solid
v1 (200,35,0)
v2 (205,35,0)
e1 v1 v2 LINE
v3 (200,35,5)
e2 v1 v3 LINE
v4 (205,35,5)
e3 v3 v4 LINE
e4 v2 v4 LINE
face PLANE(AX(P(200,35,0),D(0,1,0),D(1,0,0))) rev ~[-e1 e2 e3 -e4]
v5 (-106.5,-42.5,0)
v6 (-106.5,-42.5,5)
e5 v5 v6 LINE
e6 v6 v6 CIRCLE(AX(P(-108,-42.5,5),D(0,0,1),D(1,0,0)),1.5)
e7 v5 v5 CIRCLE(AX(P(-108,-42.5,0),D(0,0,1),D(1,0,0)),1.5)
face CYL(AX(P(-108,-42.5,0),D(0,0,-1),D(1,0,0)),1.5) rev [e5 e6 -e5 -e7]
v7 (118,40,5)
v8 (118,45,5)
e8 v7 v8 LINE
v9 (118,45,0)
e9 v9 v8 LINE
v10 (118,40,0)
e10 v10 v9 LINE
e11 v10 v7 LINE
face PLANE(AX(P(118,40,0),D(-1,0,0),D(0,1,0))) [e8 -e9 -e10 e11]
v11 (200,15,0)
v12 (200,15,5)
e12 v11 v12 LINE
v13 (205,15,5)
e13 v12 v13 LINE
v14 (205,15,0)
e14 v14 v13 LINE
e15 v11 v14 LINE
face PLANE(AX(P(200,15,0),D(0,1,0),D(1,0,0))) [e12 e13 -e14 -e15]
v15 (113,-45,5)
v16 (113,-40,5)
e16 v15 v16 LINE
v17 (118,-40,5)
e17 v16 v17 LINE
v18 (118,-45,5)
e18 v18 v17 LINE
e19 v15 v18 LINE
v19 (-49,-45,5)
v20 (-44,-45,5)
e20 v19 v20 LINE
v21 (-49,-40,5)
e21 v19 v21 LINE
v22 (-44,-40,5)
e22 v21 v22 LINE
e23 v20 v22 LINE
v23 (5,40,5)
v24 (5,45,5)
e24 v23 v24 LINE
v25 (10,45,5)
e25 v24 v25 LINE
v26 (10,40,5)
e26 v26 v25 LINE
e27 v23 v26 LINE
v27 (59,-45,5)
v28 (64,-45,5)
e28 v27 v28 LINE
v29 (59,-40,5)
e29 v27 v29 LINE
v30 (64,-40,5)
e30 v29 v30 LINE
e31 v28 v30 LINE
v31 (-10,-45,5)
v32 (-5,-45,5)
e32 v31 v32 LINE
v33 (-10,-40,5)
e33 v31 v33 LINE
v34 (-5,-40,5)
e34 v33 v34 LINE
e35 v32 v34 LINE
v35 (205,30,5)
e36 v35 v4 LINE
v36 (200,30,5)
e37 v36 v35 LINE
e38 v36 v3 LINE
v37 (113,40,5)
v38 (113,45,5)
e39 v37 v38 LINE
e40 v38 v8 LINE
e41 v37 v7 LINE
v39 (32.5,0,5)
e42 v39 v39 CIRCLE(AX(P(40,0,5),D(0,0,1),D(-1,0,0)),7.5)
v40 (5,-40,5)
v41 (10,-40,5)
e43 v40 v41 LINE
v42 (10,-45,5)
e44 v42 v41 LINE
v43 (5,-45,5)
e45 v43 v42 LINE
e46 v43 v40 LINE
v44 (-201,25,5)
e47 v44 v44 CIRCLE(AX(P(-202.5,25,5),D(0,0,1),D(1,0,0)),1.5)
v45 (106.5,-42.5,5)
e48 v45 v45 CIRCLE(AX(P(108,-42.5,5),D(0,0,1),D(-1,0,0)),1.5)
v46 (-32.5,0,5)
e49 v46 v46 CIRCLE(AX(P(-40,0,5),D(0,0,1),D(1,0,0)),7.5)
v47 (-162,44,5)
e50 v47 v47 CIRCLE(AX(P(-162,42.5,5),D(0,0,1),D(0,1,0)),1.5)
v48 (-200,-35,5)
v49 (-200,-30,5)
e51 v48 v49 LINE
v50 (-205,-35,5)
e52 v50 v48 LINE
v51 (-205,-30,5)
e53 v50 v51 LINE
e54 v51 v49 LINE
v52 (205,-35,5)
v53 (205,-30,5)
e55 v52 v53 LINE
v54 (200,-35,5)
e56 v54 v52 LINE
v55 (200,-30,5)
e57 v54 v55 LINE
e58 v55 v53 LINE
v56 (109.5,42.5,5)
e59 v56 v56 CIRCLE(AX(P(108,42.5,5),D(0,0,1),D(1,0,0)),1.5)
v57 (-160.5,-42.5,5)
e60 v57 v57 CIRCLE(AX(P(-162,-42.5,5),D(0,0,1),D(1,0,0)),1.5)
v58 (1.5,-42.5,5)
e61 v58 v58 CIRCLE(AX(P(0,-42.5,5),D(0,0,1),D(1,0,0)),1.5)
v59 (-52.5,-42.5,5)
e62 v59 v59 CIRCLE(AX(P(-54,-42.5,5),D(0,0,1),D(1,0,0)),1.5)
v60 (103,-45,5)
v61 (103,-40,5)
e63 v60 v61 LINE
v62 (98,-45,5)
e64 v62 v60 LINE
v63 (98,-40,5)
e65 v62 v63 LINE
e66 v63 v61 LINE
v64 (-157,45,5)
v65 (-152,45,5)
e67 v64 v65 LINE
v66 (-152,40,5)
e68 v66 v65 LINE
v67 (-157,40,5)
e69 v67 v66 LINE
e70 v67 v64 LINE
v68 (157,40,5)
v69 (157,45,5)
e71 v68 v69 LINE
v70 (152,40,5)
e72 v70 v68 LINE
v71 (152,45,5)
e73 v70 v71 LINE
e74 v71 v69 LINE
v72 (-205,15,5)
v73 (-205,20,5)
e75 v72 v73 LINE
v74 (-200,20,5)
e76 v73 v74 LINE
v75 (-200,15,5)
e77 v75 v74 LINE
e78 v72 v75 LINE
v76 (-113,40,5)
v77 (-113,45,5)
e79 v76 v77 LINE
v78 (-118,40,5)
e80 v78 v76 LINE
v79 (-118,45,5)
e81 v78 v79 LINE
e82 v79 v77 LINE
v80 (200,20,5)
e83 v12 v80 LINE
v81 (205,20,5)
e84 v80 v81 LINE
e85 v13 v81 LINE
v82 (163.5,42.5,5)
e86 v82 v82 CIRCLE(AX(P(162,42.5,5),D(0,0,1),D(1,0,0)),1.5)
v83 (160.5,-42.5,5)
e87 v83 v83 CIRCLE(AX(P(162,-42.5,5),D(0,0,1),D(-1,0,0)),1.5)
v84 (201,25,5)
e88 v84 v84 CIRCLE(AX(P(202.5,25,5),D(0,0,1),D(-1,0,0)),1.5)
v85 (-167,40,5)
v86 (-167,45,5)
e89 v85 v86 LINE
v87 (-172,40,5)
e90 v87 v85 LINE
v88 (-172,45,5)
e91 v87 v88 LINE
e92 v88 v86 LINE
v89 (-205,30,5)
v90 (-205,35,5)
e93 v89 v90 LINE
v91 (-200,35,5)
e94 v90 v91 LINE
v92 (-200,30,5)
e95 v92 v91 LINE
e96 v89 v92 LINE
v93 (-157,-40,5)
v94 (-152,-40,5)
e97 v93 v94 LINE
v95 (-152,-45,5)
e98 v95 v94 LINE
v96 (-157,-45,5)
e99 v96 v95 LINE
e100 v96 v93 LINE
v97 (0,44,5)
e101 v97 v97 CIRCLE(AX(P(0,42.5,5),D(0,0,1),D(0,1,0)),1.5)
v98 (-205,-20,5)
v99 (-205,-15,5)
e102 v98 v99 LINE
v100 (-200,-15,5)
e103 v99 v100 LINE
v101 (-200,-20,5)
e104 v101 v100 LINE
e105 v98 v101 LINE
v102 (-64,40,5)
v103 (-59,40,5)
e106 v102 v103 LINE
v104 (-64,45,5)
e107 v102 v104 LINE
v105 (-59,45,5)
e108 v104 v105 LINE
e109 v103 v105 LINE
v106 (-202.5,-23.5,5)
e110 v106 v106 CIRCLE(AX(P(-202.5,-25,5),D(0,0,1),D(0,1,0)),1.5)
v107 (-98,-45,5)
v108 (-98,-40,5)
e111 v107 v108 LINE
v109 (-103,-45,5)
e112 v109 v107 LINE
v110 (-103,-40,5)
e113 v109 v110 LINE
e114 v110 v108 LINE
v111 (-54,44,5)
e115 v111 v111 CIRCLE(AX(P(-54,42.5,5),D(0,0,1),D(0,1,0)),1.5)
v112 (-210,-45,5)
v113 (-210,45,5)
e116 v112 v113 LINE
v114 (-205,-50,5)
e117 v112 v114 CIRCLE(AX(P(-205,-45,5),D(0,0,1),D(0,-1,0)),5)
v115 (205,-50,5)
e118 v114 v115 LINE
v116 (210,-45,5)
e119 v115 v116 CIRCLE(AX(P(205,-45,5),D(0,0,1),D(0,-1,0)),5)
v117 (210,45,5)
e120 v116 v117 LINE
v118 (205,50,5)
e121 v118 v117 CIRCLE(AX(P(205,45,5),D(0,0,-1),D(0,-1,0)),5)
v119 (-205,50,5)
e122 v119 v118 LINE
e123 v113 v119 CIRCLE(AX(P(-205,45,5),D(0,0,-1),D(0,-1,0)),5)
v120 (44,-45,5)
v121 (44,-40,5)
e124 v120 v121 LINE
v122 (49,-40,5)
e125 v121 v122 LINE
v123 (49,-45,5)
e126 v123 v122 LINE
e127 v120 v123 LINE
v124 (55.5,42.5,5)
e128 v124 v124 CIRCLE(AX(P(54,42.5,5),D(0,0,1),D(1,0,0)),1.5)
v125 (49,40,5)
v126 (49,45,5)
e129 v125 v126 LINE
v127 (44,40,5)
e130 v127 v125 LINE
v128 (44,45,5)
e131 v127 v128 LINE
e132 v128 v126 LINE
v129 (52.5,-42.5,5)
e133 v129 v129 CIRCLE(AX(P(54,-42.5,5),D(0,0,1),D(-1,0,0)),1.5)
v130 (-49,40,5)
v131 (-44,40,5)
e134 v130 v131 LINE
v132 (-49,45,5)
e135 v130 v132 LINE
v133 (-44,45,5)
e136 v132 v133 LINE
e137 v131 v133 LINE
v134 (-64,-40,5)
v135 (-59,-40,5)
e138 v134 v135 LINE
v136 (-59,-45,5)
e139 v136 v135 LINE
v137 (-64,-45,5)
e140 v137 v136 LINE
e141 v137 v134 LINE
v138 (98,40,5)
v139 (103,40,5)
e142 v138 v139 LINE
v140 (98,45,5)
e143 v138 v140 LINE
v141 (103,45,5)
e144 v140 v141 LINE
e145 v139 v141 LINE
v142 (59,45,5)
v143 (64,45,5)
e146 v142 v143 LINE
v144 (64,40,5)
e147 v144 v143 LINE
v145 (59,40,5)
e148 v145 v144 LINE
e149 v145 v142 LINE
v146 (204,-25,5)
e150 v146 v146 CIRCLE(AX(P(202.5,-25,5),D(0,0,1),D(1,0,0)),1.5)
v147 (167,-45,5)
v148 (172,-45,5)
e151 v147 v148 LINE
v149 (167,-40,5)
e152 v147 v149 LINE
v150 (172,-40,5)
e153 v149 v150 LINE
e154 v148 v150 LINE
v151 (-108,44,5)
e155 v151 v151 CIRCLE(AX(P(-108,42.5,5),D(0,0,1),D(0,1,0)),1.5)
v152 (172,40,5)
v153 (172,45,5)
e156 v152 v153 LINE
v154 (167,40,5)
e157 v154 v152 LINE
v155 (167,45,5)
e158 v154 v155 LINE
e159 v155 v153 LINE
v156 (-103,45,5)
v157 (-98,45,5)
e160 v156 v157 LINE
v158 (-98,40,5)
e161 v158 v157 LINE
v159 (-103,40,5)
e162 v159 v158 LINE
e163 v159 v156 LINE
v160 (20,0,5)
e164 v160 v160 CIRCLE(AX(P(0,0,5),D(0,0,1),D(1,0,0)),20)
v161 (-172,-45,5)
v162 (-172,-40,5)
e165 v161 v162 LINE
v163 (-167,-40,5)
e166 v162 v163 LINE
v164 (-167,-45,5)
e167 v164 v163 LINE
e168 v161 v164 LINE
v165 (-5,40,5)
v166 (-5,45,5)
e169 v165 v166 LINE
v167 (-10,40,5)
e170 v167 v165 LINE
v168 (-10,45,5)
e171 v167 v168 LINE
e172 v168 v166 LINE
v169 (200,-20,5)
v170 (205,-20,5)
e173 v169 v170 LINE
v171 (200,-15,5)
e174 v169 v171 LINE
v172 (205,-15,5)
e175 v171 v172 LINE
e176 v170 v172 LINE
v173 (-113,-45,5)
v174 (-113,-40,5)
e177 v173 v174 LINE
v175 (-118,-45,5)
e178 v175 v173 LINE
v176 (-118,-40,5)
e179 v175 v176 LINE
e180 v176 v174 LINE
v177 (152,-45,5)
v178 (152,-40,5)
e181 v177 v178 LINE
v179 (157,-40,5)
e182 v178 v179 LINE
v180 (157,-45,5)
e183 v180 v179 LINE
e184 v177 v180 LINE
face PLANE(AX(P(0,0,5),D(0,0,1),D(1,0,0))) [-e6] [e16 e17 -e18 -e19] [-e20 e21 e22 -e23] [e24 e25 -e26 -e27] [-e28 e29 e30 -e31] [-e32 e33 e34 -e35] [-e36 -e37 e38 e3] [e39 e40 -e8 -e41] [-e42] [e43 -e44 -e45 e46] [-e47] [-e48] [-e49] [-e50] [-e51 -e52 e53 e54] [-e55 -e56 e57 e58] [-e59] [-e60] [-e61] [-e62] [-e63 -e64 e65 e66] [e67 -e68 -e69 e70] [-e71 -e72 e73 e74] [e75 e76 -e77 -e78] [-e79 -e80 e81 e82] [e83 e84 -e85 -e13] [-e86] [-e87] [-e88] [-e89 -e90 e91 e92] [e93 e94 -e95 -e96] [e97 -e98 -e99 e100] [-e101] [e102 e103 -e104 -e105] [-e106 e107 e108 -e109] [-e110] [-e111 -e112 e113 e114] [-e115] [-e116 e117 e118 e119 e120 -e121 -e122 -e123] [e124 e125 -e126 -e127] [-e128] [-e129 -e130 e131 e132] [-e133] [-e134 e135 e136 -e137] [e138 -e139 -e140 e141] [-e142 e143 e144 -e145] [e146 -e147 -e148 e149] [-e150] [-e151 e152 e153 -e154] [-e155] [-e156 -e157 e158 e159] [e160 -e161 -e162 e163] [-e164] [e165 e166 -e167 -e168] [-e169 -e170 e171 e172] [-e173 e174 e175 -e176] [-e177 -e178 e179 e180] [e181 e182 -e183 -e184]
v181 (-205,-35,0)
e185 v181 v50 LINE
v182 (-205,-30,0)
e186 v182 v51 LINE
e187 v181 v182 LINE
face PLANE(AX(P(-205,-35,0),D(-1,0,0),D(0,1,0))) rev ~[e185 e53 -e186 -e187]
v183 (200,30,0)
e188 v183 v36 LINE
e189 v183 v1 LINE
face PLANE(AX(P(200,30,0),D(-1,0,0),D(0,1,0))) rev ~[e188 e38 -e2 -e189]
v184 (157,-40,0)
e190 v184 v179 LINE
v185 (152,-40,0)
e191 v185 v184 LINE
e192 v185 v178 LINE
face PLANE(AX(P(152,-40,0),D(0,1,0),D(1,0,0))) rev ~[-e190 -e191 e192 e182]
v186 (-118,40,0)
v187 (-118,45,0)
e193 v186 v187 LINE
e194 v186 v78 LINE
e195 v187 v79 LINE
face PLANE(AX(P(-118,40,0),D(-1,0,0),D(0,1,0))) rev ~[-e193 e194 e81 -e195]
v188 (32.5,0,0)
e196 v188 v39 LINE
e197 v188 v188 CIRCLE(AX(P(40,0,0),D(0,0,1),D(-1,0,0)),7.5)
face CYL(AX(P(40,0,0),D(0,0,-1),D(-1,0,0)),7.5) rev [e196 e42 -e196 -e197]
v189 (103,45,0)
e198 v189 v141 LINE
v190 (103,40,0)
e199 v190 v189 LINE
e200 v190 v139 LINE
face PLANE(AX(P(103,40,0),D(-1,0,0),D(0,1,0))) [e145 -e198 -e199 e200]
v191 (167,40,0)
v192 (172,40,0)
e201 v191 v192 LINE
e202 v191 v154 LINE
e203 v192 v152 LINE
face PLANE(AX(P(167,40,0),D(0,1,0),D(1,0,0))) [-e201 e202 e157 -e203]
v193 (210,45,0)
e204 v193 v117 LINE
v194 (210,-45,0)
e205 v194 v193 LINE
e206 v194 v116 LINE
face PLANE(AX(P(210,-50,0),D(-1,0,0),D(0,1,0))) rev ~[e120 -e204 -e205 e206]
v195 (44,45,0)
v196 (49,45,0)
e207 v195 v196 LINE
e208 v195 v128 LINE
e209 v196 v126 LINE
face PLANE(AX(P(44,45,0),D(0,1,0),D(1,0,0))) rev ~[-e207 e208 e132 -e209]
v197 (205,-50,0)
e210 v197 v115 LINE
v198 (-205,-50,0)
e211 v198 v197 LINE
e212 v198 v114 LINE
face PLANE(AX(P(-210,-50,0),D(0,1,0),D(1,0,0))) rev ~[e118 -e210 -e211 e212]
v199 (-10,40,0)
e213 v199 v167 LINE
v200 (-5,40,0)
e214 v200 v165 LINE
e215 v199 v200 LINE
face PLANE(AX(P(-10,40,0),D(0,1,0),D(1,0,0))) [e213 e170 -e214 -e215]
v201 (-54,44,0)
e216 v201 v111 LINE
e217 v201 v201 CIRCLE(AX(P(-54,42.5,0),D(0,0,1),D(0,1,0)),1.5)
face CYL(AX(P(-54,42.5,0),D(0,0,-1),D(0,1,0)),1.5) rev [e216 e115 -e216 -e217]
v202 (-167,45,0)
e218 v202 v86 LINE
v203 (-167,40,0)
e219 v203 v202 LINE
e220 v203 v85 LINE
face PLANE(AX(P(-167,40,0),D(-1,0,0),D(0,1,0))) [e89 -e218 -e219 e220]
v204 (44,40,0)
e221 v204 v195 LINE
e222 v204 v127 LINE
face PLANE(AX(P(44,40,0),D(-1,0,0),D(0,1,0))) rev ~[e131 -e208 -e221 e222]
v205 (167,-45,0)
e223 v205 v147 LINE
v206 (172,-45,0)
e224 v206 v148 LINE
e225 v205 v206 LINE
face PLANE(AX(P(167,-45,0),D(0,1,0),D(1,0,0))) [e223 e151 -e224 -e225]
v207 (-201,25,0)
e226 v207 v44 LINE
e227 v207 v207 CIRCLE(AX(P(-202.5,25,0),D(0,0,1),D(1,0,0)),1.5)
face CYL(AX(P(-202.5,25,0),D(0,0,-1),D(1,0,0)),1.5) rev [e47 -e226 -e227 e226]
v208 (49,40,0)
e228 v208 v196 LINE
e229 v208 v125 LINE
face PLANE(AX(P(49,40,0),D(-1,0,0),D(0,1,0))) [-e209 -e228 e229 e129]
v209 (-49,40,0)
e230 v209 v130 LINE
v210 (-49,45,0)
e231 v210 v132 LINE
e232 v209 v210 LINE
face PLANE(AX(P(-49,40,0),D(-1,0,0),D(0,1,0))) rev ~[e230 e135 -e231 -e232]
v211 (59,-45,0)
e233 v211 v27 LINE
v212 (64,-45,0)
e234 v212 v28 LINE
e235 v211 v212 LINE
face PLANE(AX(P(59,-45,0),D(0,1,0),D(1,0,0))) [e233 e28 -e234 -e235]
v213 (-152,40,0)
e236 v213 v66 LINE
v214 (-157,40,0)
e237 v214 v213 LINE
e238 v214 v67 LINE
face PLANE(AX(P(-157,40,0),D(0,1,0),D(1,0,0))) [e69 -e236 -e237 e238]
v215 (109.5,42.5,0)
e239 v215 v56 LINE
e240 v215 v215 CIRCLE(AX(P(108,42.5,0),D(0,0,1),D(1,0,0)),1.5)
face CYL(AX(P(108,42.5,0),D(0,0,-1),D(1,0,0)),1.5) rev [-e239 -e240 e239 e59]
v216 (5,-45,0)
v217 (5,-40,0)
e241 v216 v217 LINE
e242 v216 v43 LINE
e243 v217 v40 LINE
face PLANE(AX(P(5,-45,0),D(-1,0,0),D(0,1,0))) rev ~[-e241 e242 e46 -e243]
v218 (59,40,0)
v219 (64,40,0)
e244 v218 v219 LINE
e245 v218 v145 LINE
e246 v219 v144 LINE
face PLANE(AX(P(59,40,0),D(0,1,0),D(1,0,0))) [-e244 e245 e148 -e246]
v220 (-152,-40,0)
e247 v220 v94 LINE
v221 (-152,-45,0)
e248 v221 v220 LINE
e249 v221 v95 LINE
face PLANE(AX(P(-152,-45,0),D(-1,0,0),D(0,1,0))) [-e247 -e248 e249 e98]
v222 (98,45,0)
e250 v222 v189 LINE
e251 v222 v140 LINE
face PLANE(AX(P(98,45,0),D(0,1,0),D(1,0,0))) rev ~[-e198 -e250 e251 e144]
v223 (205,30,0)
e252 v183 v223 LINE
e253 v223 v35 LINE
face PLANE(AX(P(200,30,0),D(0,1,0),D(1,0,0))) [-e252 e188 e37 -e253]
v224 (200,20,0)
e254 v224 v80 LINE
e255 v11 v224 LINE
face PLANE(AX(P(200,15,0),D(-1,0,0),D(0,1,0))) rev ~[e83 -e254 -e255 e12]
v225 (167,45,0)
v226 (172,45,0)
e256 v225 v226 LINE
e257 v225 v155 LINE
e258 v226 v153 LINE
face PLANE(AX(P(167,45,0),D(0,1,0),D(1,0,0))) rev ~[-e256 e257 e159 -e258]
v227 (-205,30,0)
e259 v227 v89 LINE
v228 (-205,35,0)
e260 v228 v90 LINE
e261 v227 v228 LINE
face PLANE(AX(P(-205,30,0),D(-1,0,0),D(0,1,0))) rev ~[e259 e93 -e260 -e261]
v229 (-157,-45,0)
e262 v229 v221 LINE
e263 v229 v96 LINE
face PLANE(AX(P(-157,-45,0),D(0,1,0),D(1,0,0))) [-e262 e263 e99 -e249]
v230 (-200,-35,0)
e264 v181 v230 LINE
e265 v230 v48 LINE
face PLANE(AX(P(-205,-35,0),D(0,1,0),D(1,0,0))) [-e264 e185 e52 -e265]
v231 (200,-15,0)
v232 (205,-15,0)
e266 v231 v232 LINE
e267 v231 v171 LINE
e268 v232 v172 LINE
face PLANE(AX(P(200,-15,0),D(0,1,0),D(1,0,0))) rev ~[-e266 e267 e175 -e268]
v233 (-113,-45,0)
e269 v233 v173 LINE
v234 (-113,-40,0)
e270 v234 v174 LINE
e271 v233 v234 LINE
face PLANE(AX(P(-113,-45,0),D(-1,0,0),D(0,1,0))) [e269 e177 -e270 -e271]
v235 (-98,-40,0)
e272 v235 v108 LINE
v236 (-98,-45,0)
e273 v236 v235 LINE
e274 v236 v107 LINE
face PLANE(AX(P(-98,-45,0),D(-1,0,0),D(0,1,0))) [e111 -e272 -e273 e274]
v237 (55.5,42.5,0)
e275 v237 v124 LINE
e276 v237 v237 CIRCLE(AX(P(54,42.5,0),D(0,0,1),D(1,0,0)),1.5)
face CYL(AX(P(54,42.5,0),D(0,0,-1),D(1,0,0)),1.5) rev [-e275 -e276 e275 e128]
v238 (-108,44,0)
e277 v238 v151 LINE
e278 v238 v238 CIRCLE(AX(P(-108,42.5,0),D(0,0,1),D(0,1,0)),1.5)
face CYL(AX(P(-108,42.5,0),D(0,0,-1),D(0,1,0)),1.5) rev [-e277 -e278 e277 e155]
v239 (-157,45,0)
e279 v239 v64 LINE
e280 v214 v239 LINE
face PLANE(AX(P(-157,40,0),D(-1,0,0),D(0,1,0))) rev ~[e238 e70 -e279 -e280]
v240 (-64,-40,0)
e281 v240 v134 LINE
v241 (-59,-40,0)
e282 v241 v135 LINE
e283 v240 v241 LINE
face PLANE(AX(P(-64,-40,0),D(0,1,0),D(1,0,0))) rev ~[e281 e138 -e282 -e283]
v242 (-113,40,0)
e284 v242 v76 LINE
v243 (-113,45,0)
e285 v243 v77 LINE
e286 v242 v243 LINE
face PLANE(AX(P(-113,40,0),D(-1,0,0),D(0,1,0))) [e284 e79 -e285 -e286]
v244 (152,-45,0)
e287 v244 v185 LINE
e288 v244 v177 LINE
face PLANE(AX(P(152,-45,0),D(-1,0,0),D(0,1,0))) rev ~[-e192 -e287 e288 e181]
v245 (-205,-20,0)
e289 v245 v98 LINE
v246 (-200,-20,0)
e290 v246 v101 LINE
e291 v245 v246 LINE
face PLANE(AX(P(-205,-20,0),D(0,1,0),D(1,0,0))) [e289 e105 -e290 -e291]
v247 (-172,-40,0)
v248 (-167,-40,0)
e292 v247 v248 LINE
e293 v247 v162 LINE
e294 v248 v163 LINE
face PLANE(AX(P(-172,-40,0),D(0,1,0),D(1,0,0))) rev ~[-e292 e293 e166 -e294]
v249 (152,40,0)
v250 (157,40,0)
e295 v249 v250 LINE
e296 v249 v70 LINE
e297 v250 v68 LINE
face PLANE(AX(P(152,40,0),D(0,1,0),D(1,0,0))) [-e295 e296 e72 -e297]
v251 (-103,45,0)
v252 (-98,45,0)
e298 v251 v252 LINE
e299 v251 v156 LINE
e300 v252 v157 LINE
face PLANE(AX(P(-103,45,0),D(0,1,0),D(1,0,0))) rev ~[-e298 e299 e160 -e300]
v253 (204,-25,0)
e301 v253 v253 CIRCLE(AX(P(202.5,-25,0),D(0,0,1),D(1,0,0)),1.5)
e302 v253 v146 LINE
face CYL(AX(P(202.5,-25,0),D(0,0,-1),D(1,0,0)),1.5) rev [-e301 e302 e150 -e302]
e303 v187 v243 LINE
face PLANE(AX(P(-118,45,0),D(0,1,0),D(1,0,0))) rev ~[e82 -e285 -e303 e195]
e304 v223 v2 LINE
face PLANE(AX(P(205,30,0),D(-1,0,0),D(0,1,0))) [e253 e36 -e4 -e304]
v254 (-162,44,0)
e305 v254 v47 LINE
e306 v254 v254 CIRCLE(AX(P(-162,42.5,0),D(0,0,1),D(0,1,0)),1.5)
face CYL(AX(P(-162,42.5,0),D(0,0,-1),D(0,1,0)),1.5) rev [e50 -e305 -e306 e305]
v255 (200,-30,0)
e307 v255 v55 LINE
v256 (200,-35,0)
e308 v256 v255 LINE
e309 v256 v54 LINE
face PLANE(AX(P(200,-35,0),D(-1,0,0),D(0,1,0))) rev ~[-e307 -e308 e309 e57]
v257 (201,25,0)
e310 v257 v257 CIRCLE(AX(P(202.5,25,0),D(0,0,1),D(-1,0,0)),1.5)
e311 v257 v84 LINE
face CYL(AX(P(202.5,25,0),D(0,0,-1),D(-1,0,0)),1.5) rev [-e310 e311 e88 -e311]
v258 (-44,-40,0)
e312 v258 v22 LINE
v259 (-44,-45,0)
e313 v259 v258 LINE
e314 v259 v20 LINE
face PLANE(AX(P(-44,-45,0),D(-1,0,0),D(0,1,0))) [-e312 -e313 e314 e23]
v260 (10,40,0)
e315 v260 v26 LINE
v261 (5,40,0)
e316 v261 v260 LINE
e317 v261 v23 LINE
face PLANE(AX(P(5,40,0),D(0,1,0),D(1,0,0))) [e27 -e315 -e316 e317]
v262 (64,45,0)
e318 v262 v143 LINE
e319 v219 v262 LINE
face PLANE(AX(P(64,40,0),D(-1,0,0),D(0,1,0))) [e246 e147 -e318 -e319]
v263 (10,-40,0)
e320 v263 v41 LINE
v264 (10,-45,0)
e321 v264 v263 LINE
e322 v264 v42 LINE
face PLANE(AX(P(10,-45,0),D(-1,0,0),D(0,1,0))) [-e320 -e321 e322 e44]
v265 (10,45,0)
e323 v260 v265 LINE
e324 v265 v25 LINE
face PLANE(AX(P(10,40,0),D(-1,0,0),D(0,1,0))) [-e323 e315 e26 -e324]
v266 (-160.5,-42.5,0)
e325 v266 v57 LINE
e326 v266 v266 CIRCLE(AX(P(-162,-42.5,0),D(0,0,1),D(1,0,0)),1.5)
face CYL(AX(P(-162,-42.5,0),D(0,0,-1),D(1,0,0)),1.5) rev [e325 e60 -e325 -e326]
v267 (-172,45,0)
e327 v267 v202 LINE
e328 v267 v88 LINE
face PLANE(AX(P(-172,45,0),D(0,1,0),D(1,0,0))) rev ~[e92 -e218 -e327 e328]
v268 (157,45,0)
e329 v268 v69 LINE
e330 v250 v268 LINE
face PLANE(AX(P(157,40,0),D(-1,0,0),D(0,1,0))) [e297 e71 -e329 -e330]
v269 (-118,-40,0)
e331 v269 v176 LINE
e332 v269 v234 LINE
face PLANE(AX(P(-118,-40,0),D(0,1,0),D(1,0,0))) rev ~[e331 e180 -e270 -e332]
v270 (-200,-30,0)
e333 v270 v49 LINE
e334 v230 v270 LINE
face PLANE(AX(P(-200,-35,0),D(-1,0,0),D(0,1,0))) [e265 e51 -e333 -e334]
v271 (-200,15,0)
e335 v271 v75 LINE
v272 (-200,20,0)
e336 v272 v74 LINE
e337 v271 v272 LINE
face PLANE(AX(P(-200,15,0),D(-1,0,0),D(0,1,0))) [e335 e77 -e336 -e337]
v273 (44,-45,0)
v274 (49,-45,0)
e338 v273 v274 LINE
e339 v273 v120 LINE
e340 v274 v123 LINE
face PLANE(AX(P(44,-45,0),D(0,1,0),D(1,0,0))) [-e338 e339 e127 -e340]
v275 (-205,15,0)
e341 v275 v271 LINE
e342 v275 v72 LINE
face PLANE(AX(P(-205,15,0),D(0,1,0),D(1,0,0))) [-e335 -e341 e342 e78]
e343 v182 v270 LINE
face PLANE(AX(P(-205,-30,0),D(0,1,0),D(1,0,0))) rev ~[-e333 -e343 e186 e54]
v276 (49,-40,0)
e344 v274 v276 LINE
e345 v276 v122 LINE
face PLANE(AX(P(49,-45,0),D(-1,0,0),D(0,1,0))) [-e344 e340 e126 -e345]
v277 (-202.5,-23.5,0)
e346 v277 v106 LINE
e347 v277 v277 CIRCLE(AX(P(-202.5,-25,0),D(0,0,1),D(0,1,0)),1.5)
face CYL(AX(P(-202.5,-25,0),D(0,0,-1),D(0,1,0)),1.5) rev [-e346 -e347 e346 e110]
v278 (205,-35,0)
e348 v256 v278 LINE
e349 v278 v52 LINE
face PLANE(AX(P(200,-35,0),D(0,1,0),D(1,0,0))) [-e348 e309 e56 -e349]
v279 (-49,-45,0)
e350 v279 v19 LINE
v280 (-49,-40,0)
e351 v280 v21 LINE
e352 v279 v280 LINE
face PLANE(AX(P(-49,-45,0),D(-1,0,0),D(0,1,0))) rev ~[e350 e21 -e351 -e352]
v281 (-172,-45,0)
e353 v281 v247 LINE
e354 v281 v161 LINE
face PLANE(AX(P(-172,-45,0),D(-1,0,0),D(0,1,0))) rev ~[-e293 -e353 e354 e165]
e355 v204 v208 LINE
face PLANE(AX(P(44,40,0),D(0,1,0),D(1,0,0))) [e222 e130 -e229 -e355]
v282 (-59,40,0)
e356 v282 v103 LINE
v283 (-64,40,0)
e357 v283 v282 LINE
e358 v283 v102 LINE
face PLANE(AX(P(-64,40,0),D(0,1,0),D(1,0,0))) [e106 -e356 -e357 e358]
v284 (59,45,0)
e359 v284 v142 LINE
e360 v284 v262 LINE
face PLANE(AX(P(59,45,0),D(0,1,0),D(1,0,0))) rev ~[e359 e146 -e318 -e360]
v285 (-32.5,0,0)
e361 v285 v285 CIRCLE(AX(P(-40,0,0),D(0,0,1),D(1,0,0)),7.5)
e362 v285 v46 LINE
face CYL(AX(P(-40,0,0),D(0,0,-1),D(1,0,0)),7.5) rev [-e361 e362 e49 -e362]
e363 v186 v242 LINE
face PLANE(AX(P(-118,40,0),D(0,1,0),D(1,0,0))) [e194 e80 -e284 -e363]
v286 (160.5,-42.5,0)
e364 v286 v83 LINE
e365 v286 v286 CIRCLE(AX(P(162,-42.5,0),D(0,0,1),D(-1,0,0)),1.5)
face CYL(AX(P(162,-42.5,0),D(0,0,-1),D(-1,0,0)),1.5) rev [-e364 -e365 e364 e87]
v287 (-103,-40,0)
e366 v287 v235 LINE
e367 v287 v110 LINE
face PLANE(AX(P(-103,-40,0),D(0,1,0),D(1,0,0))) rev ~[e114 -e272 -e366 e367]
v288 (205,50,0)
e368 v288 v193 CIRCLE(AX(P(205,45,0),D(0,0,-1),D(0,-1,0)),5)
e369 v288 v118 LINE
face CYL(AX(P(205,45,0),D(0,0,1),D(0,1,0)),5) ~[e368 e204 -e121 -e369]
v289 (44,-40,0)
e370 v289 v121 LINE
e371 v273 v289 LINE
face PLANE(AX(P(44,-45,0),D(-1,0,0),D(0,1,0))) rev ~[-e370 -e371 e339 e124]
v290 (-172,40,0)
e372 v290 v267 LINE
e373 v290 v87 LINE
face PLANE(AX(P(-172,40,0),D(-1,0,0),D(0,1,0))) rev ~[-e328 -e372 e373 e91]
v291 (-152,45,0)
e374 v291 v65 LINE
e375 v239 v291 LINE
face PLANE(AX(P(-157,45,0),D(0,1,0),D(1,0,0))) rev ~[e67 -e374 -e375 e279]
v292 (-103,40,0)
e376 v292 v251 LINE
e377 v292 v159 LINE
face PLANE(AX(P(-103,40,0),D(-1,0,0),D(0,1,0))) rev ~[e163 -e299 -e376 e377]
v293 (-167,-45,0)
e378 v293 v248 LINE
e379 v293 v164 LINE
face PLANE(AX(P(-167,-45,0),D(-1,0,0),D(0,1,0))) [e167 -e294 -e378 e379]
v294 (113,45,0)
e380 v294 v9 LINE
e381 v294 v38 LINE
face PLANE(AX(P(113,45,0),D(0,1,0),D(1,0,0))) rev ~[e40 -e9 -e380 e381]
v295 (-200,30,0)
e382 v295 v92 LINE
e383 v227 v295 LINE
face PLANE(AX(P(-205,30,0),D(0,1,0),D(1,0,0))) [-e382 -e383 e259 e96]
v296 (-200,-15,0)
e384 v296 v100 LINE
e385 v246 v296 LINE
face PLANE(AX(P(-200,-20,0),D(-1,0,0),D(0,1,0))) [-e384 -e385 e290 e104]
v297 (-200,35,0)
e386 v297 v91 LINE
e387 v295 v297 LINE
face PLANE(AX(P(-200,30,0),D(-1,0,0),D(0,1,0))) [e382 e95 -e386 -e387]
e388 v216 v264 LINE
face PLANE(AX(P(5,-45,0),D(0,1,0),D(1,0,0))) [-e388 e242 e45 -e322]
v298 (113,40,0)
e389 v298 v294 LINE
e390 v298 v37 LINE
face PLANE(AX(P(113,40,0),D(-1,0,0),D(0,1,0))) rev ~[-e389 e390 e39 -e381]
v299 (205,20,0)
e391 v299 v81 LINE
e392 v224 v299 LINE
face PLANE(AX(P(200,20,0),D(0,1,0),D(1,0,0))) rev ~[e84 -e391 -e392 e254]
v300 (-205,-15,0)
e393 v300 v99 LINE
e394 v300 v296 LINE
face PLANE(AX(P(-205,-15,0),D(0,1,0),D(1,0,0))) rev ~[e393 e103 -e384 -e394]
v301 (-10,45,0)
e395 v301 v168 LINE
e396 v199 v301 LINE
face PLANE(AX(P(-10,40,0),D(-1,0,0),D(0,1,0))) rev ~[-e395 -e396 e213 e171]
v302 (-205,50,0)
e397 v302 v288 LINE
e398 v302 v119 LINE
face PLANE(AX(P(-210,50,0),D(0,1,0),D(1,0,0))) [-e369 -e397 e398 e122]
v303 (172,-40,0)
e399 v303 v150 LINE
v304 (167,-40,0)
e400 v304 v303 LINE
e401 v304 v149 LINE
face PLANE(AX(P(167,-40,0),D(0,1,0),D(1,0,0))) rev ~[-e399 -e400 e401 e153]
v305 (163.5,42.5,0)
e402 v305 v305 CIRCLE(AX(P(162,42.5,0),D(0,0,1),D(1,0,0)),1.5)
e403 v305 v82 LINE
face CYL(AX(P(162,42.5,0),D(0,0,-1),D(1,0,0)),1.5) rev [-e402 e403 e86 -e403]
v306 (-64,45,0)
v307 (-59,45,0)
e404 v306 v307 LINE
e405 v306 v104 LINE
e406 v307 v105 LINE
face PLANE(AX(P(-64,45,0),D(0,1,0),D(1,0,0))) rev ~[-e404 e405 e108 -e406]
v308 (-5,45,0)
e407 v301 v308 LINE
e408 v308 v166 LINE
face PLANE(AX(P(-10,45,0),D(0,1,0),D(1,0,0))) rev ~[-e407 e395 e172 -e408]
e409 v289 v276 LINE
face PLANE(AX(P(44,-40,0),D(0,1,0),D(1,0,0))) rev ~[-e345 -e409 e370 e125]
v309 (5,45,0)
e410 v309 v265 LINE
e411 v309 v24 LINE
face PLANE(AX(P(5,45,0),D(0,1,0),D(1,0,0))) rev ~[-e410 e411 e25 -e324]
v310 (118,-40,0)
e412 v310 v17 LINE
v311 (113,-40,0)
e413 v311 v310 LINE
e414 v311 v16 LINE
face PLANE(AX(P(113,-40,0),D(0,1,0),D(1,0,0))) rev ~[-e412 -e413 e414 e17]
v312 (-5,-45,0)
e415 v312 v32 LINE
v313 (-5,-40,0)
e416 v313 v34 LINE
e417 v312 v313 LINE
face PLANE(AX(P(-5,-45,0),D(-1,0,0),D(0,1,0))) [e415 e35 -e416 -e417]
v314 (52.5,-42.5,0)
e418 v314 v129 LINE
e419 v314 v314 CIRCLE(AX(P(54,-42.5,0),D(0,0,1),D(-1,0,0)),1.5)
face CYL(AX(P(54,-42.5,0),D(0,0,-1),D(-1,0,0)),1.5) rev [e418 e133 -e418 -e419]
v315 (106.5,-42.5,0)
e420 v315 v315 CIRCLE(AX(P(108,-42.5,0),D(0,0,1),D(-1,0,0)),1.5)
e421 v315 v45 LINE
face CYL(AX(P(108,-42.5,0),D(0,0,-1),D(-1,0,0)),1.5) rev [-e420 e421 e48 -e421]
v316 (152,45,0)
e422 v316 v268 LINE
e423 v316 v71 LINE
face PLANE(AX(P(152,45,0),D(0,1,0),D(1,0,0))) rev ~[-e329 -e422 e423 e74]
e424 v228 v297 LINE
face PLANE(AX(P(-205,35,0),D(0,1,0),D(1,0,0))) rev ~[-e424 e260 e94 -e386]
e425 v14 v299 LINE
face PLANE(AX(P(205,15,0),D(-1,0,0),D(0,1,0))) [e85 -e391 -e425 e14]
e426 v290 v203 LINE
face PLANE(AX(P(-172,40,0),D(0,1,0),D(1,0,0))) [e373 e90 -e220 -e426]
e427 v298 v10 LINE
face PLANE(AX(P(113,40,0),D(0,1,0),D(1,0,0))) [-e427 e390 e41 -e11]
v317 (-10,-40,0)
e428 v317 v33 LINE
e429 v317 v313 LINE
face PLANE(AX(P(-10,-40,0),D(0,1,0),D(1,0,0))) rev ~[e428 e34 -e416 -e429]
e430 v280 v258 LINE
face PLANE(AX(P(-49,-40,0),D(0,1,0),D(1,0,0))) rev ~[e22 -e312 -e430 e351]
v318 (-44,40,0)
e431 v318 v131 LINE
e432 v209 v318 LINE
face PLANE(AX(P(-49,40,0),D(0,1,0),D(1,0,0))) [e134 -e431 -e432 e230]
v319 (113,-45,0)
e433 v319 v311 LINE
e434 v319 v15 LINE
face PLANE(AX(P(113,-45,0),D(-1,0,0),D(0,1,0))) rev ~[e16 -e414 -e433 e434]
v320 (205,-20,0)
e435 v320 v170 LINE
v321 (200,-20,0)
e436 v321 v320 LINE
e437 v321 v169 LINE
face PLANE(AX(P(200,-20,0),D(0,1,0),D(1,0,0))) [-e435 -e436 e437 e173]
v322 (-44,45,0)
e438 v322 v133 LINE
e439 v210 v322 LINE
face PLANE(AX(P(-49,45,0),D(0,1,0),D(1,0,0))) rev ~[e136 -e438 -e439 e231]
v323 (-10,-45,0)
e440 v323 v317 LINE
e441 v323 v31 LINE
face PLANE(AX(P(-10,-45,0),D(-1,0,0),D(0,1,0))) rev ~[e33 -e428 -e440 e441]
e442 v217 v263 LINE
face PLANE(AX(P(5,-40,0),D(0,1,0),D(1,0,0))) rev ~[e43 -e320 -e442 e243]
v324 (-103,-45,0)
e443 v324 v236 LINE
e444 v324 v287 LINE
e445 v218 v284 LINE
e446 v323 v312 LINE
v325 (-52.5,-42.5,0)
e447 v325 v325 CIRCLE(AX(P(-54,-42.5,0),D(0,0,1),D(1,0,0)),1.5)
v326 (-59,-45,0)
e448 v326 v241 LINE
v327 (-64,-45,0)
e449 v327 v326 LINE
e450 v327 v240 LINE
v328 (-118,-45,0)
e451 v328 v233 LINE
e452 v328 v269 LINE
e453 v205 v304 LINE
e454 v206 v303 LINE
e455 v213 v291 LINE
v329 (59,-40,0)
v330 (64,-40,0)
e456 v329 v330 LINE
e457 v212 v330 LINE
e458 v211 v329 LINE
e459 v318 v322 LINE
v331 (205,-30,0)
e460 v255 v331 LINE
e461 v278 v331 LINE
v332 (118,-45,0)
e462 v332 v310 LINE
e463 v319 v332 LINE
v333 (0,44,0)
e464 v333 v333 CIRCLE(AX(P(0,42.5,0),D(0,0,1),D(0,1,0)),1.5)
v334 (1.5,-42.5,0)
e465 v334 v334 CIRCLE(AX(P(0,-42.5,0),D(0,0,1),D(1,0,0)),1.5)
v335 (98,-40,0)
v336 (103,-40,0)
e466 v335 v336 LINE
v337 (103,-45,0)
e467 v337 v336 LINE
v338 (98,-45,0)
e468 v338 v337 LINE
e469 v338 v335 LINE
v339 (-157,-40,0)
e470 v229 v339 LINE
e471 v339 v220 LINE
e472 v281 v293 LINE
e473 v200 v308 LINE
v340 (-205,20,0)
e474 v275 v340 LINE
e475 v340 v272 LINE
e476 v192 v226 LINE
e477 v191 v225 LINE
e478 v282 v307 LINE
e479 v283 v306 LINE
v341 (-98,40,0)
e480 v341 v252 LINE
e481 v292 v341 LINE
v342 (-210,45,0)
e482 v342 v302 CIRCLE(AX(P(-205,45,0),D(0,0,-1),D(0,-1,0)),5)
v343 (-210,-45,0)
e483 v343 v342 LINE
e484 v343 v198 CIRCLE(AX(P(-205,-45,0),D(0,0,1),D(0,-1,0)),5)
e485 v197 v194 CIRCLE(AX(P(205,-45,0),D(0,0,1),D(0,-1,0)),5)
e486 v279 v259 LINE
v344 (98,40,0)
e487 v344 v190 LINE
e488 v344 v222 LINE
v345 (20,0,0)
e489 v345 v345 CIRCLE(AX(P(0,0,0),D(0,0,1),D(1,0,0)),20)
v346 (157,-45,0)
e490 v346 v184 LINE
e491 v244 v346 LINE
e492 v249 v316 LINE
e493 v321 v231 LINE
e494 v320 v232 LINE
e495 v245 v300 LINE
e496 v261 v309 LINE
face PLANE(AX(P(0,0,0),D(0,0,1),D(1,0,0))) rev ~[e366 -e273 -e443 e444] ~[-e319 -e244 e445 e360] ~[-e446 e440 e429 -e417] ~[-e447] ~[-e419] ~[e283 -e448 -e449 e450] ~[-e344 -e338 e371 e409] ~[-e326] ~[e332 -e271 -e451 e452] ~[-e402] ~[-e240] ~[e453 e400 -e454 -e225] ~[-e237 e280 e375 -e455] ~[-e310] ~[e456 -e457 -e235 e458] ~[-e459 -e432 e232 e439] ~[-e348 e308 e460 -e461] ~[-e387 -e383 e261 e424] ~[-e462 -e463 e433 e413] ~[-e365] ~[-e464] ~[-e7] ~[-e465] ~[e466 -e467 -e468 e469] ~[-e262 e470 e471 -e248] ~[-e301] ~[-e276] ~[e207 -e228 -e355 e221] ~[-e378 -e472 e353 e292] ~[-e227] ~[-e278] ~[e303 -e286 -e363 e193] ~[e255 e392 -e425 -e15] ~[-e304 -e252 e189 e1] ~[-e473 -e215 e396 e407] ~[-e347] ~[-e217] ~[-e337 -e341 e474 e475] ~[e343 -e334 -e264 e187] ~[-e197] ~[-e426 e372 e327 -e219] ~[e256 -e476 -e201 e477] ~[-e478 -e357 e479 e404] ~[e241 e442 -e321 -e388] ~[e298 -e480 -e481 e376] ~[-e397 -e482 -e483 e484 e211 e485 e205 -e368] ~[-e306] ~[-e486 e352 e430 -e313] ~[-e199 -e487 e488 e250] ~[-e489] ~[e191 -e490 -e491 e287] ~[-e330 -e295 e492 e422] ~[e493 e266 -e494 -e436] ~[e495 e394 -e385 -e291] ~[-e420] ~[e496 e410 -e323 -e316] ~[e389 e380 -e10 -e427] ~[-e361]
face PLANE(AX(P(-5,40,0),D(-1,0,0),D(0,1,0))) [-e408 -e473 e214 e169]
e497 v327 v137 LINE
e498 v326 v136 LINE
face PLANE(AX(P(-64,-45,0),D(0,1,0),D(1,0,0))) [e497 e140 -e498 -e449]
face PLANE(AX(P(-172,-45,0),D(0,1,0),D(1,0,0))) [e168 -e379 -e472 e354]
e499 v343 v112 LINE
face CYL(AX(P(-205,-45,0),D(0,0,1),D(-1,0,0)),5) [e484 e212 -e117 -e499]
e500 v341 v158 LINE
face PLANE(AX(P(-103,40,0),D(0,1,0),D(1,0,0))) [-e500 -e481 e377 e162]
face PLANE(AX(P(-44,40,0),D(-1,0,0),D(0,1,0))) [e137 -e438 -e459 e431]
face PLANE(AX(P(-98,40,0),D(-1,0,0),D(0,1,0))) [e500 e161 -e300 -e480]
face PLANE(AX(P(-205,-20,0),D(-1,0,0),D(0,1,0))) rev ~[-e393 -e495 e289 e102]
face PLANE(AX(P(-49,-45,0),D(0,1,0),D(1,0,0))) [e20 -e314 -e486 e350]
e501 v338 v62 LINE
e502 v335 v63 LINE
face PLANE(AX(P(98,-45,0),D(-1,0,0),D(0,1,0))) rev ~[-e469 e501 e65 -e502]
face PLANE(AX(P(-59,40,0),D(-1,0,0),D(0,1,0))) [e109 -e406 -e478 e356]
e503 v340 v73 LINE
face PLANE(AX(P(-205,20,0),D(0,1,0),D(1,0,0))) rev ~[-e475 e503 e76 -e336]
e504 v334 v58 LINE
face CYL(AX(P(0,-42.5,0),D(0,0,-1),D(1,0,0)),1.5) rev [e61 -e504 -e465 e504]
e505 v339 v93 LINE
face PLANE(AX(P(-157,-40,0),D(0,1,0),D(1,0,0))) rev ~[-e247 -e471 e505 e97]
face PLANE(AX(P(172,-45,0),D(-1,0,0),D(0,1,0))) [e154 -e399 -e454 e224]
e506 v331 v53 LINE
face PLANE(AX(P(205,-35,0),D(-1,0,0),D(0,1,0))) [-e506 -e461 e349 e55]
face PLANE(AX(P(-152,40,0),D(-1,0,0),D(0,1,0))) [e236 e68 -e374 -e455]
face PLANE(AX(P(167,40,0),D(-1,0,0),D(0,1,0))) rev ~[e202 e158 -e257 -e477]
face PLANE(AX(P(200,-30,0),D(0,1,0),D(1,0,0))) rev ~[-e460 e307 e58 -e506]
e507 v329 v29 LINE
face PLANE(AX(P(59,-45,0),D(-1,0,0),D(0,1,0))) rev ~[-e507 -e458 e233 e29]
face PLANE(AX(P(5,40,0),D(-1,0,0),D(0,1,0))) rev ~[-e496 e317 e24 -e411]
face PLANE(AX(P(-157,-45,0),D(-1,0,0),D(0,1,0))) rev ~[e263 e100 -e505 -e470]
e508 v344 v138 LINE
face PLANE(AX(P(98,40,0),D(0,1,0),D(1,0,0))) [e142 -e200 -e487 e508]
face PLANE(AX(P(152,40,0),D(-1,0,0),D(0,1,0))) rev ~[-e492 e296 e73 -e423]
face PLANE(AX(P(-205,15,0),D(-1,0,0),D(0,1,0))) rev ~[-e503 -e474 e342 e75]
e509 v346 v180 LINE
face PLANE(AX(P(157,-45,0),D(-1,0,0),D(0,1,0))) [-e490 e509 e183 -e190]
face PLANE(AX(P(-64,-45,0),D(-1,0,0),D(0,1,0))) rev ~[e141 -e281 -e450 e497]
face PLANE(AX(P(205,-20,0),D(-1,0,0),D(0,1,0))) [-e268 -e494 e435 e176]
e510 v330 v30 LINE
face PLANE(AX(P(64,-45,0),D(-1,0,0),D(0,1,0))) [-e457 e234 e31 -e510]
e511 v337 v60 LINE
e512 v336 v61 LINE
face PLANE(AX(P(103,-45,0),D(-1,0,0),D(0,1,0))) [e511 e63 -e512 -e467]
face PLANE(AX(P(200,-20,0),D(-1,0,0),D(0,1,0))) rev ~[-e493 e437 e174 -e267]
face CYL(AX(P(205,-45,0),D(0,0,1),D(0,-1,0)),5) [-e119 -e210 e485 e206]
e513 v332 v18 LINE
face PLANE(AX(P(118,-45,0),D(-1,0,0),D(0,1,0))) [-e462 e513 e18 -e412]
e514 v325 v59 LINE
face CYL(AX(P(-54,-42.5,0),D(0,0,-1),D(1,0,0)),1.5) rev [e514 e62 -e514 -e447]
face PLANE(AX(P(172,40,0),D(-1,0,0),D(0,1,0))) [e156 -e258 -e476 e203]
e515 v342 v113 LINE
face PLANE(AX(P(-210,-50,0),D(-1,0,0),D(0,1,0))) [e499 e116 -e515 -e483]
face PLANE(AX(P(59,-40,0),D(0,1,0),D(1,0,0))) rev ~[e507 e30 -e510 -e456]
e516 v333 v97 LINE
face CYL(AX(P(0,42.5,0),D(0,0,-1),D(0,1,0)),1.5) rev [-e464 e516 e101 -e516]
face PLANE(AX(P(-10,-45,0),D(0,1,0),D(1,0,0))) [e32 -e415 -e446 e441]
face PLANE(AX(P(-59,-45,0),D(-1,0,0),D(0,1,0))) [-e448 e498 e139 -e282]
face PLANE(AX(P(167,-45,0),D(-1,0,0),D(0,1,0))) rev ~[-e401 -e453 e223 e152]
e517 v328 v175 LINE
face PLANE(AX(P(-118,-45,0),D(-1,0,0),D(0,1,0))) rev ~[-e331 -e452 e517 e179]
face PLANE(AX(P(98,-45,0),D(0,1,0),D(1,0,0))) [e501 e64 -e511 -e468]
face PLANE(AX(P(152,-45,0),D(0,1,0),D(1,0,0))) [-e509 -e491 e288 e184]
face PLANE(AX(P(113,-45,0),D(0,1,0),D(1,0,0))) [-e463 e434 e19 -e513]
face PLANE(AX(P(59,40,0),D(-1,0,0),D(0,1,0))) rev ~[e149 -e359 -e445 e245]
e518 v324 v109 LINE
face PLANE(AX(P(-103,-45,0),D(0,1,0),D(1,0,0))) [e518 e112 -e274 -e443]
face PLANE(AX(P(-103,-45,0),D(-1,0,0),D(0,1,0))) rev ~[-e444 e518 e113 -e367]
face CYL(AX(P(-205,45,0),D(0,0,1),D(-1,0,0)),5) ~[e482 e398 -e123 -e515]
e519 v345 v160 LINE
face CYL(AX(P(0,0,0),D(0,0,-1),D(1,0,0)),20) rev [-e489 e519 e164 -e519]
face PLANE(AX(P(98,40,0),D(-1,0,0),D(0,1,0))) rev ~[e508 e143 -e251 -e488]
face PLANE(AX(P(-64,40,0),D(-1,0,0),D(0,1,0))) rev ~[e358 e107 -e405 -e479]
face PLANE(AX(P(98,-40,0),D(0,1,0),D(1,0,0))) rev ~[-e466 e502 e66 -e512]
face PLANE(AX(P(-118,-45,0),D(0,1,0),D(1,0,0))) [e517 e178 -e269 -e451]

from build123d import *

# Parameters (mm, degrees)
SKETCH1_W           = 420
SKETCH1_H           = 100
SKETCH1_R           = 20
SKETCH1_R_2         = 7.5
SKETCH1_R_3         = 1.5
SKETCH1_W_2         = 5
SKETCH1_H_2         = 5
BOSS_EXTRUDE1_DEPTH = 5
FILLET1_R           = 5


with BuildPart() as part:
    # Sketch1 → Boss-Extrude1 (new body)
    with BuildSketch(Plane.XY):
        Rectangle(SKETCH1_W, SKETCH1_H)
        Circle(SKETCH1_R, mode=Mode.SUBTRACT)
        with Locations((-40, 0)):
            Circle(SKETCH1_R_2, mode=Mode.SUBTRACT)
        with Locations(Location((40, 0, 0), (0, 0, 180))):
            Circle(SKETCH1_R_2, mode=Mode.SUBTRACT)
        with Locations((0, -42.5)):
            Circle(SKETCH1_R_3, mode=Mode.SUBTRACT)
        with Locations((-54, -42.5)):
            Circle(SKETCH1_R_3, mode=Mode.SUBTRACT)
        with Locations((-108, -42.5)):
            Circle(SKETCH1_R_3, mode=Mode.SUBTRACT)
        with Locations((-162, -42.5)):
            Circle(SKETCH1_R_3, mode=Mode.SUBTRACT)
        with Locations((-202.5, 25)):
            Circle(SKETCH1_R_3, mode=Mode.SUBTRACT)
        with Locations(Location((54, -42.5, 0), (0, 0, 180))):
            Circle(SKETCH1_R_3, mode=Mode.SUBTRACT)
        with Locations(Location((108, -42.5, 0), (0, 0, 180))):
            Circle(SKETCH1_R_3, mode=Mode.SUBTRACT)
        with Locations(Location((162, -42.5, 0), (0, 0, 180))):
            Circle(SKETCH1_R_3, mode=Mode.SUBTRACT)
        with Locations(Location((-54, 42.5, 0), (0, 0, 90))):
            Circle(SKETCH1_R_3, mode=Mode.SUBTRACT)
        with Locations((162, 42.5)):
            Circle(SKETCH1_R_3, mode=Mode.SUBTRACT)
        with Locations(Location((-108, 42.5, 0), (0, 0, 90))):
            Circle(SKETCH1_R_3, mode=Mode.SUBTRACT)
        with Locations(Location((0, 42.5, 0), (0, 0, 90))):
            Circle(SKETCH1_R_3, mode=Mode.SUBTRACT)
        with Locations(Location((-162, 42.5, 0), (0, 0, 90))):
            Circle(SKETCH1_R_3, mode=Mode.SUBTRACT)
        with Locations((54, 42.5)):
            Circle(SKETCH1_R_3, mode=Mode.SUBTRACT)
        with Locations((108, 42.5)):
            Circle(SKETCH1_R_3, mode=Mode.SUBTRACT)
        with Locations(Location((-202.5, -25, 0), (0, 0, 90))):
            Circle(SKETCH1_R_3, mode=Mode.SUBTRACT)
        with Locations(Location((202.5, 25, 0), (0, 0, 180))):
            Circle(SKETCH1_R_3, mode=Mode.SUBTRACT)
        with Locations((202.5, -25)):
            Circle(SKETCH1_R_3, mode=Mode.SUBTRACT)
        with Locations((-7.5, -42.5)):
            Rectangle(SKETCH1_W_2, SKETCH1_H_2, mode=Mode.SUBTRACT)
        with Locations((7.5, -42.5)):
            Rectangle(SKETCH1_W_2, SKETCH1_H_2, mode=Mode.SUBTRACT)
        with Locations((-61.5, -42.5)):
            Rectangle(SKETCH1_W_2, SKETCH1_H_2, mode=Mode.SUBTRACT)
        with Locations((-46.5, -42.5)):
            Rectangle(SKETCH1_W_2, SKETCH1_H_2, mode=Mode.SUBTRACT)
        with Locations((-115.5, -42.5)):
            Rectangle(SKETCH1_W_2, SKETCH1_H_2, mode=Mode.SUBTRACT)
        with Locations((-100.5, -42.5)):
            Rectangle(SKETCH1_W_2, SKETCH1_H_2, mode=Mode.SUBTRACT)
        with Locations((-169.5, -42.5)):
            Rectangle(SKETCH1_W_2, SKETCH1_H_2, mode=Mode.SUBTRACT)
        with Locations((-154.5, -42.5)):
            Rectangle(SKETCH1_W_2, SKETCH1_H_2, mode=Mode.SUBTRACT)
        with Locations((-202.5, 17.5)):
            Rectangle(SKETCH1_W_2, SKETCH1_H_2, mode=Mode.SUBTRACT)
        with Locations((-202.5, 32.5)):
            Rectangle(SKETCH1_W_2, SKETCH1_H_2, mode=Mode.SUBTRACT)
        with Locations((61.5, -42.5)):
            Rectangle(SKETCH1_W_2, SKETCH1_H_2, mode=Mode.SUBTRACT)
        with Locations((46.5, -42.5)):
            Rectangle(SKETCH1_W_2, SKETCH1_H_2, mode=Mode.SUBTRACT)
        with Locations((115.5, -42.5)):
            Rectangle(SKETCH1_W_2, SKETCH1_H_2, mode=Mode.SUBTRACT)
        with Locations((100.5, -42.5)):
            Rectangle(SKETCH1_W_2, SKETCH1_H_2, mode=Mode.SUBTRACT)
        with Locations((169.5, -42.5)):
            Rectangle(SKETCH1_W_2, SKETCH1_H_2, mode=Mode.SUBTRACT)
        with Locations((154.5, -42.5)):
            Rectangle(SKETCH1_W_2, SKETCH1_H_2, mode=Mode.SUBTRACT)
        with Locations((-61.5, 42.5)):
            Rectangle(SKETCH1_W_2, SKETCH1_H_2, mode=Mode.SUBTRACT)
        with Locations((-46.5, 42.5)):
            Rectangle(SKETCH1_W_2, SKETCH1_H_2, mode=Mode.SUBTRACT)
        with Locations((169.5, 42.5)):
            Rectangle(SKETCH1_W_2, SKETCH1_H_2, mode=Mode.SUBTRACT)
        with Locations((154.5, 42.5)):
            Rectangle(SKETCH1_W_2, SKETCH1_H_2, mode=Mode.SUBTRACT)
        with Locations((-115.5, 42.5)):
            Rectangle(SKETCH1_W_2, SKETCH1_H_2, mode=Mode.SUBTRACT)
        with Locations((-100.5, 42.5)):
            Rectangle(SKETCH1_W_2, SKETCH1_H_2, mode=Mode.SUBTRACT)
        with Locations((-7.5, 42.5)):
            Rectangle(SKETCH1_W_2, SKETCH1_H_2, mode=Mode.SUBTRACT)
        with Locations((7.5, 42.5)):
            Rectangle(SKETCH1_W_2, SKETCH1_H_2, mode=Mode.SUBTRACT)
        with Locations((-169.5, 42.5)):
            Rectangle(SKETCH1_W_2, SKETCH1_H_2, mode=Mode.SUBTRACT)
        with Locations((-154.5, 42.5)):
            Rectangle(SKETCH1_W_2, SKETCH1_H_2, mode=Mode.SUBTRACT)
        with Locations((61.5, 42.5)):
            Rectangle(SKETCH1_W_2, SKETCH1_H_2, mode=Mode.SUBTRACT)
        with Locations((46.5, 42.5)):
            Rectangle(SKETCH1_W_2, SKETCH1_H_2, mode=Mode.SUBTRACT)
        with Locations((115.5, 42.5)):
            Rectangle(SKETCH1_W_2, SKETCH1_H_2, mode=Mode.SUBTRACT)
        with Locations((100.5, 42.5)):
            Rectangle(SKETCH1_W_2, SKETCH1_H_2, mode=Mode.SUBTRACT)
        with Locations((-202.5, -17.5)):
            Rectangle(SKETCH1_W_2, SKETCH1_H_2, mode=Mode.SUBTRACT)
        with Locations((-202.5, -32.5)):
            Rectangle(SKETCH1_W_2, SKETCH1_H_2, mode=Mode.SUBTRACT)
        with Locations((202.5, 17.5)):
            Rectangle(SKETCH1_W_2, SKETCH1_H_2, mode=Mode.SUBTRACT)
        with Locations((202.5, 32.5)):
            Rectangle(SKETCH1_W_2, SKETCH1_H_2, mode=Mode.SUBTRACT)
        with Locations((202.5, -17.5)):
            Rectangle(SKETCH1_W_2, SKETCH1_H_2, mode=Mode.SUBTRACT)
        with Locations((202.5, -32.5)):
            Rectangle(SKETCH1_W_2, SKETCH1_H_2, mode=Mode.SUBTRACT)
    extrude(amount=BOSS_EXTRUDE1_DEPTH)

    # Fillet1
    fillet1_edges = [part.edges().sort_by_distance(p)[0] for p in [
        (210, -50, 2.5),
        (-210, -50, 2.5),
        (-210, 50, 2.5),
        (210, 50, 2.5),
    ]]
    fillet(fillet1_edges, radius=FILLET1_R)


solid = part.part
